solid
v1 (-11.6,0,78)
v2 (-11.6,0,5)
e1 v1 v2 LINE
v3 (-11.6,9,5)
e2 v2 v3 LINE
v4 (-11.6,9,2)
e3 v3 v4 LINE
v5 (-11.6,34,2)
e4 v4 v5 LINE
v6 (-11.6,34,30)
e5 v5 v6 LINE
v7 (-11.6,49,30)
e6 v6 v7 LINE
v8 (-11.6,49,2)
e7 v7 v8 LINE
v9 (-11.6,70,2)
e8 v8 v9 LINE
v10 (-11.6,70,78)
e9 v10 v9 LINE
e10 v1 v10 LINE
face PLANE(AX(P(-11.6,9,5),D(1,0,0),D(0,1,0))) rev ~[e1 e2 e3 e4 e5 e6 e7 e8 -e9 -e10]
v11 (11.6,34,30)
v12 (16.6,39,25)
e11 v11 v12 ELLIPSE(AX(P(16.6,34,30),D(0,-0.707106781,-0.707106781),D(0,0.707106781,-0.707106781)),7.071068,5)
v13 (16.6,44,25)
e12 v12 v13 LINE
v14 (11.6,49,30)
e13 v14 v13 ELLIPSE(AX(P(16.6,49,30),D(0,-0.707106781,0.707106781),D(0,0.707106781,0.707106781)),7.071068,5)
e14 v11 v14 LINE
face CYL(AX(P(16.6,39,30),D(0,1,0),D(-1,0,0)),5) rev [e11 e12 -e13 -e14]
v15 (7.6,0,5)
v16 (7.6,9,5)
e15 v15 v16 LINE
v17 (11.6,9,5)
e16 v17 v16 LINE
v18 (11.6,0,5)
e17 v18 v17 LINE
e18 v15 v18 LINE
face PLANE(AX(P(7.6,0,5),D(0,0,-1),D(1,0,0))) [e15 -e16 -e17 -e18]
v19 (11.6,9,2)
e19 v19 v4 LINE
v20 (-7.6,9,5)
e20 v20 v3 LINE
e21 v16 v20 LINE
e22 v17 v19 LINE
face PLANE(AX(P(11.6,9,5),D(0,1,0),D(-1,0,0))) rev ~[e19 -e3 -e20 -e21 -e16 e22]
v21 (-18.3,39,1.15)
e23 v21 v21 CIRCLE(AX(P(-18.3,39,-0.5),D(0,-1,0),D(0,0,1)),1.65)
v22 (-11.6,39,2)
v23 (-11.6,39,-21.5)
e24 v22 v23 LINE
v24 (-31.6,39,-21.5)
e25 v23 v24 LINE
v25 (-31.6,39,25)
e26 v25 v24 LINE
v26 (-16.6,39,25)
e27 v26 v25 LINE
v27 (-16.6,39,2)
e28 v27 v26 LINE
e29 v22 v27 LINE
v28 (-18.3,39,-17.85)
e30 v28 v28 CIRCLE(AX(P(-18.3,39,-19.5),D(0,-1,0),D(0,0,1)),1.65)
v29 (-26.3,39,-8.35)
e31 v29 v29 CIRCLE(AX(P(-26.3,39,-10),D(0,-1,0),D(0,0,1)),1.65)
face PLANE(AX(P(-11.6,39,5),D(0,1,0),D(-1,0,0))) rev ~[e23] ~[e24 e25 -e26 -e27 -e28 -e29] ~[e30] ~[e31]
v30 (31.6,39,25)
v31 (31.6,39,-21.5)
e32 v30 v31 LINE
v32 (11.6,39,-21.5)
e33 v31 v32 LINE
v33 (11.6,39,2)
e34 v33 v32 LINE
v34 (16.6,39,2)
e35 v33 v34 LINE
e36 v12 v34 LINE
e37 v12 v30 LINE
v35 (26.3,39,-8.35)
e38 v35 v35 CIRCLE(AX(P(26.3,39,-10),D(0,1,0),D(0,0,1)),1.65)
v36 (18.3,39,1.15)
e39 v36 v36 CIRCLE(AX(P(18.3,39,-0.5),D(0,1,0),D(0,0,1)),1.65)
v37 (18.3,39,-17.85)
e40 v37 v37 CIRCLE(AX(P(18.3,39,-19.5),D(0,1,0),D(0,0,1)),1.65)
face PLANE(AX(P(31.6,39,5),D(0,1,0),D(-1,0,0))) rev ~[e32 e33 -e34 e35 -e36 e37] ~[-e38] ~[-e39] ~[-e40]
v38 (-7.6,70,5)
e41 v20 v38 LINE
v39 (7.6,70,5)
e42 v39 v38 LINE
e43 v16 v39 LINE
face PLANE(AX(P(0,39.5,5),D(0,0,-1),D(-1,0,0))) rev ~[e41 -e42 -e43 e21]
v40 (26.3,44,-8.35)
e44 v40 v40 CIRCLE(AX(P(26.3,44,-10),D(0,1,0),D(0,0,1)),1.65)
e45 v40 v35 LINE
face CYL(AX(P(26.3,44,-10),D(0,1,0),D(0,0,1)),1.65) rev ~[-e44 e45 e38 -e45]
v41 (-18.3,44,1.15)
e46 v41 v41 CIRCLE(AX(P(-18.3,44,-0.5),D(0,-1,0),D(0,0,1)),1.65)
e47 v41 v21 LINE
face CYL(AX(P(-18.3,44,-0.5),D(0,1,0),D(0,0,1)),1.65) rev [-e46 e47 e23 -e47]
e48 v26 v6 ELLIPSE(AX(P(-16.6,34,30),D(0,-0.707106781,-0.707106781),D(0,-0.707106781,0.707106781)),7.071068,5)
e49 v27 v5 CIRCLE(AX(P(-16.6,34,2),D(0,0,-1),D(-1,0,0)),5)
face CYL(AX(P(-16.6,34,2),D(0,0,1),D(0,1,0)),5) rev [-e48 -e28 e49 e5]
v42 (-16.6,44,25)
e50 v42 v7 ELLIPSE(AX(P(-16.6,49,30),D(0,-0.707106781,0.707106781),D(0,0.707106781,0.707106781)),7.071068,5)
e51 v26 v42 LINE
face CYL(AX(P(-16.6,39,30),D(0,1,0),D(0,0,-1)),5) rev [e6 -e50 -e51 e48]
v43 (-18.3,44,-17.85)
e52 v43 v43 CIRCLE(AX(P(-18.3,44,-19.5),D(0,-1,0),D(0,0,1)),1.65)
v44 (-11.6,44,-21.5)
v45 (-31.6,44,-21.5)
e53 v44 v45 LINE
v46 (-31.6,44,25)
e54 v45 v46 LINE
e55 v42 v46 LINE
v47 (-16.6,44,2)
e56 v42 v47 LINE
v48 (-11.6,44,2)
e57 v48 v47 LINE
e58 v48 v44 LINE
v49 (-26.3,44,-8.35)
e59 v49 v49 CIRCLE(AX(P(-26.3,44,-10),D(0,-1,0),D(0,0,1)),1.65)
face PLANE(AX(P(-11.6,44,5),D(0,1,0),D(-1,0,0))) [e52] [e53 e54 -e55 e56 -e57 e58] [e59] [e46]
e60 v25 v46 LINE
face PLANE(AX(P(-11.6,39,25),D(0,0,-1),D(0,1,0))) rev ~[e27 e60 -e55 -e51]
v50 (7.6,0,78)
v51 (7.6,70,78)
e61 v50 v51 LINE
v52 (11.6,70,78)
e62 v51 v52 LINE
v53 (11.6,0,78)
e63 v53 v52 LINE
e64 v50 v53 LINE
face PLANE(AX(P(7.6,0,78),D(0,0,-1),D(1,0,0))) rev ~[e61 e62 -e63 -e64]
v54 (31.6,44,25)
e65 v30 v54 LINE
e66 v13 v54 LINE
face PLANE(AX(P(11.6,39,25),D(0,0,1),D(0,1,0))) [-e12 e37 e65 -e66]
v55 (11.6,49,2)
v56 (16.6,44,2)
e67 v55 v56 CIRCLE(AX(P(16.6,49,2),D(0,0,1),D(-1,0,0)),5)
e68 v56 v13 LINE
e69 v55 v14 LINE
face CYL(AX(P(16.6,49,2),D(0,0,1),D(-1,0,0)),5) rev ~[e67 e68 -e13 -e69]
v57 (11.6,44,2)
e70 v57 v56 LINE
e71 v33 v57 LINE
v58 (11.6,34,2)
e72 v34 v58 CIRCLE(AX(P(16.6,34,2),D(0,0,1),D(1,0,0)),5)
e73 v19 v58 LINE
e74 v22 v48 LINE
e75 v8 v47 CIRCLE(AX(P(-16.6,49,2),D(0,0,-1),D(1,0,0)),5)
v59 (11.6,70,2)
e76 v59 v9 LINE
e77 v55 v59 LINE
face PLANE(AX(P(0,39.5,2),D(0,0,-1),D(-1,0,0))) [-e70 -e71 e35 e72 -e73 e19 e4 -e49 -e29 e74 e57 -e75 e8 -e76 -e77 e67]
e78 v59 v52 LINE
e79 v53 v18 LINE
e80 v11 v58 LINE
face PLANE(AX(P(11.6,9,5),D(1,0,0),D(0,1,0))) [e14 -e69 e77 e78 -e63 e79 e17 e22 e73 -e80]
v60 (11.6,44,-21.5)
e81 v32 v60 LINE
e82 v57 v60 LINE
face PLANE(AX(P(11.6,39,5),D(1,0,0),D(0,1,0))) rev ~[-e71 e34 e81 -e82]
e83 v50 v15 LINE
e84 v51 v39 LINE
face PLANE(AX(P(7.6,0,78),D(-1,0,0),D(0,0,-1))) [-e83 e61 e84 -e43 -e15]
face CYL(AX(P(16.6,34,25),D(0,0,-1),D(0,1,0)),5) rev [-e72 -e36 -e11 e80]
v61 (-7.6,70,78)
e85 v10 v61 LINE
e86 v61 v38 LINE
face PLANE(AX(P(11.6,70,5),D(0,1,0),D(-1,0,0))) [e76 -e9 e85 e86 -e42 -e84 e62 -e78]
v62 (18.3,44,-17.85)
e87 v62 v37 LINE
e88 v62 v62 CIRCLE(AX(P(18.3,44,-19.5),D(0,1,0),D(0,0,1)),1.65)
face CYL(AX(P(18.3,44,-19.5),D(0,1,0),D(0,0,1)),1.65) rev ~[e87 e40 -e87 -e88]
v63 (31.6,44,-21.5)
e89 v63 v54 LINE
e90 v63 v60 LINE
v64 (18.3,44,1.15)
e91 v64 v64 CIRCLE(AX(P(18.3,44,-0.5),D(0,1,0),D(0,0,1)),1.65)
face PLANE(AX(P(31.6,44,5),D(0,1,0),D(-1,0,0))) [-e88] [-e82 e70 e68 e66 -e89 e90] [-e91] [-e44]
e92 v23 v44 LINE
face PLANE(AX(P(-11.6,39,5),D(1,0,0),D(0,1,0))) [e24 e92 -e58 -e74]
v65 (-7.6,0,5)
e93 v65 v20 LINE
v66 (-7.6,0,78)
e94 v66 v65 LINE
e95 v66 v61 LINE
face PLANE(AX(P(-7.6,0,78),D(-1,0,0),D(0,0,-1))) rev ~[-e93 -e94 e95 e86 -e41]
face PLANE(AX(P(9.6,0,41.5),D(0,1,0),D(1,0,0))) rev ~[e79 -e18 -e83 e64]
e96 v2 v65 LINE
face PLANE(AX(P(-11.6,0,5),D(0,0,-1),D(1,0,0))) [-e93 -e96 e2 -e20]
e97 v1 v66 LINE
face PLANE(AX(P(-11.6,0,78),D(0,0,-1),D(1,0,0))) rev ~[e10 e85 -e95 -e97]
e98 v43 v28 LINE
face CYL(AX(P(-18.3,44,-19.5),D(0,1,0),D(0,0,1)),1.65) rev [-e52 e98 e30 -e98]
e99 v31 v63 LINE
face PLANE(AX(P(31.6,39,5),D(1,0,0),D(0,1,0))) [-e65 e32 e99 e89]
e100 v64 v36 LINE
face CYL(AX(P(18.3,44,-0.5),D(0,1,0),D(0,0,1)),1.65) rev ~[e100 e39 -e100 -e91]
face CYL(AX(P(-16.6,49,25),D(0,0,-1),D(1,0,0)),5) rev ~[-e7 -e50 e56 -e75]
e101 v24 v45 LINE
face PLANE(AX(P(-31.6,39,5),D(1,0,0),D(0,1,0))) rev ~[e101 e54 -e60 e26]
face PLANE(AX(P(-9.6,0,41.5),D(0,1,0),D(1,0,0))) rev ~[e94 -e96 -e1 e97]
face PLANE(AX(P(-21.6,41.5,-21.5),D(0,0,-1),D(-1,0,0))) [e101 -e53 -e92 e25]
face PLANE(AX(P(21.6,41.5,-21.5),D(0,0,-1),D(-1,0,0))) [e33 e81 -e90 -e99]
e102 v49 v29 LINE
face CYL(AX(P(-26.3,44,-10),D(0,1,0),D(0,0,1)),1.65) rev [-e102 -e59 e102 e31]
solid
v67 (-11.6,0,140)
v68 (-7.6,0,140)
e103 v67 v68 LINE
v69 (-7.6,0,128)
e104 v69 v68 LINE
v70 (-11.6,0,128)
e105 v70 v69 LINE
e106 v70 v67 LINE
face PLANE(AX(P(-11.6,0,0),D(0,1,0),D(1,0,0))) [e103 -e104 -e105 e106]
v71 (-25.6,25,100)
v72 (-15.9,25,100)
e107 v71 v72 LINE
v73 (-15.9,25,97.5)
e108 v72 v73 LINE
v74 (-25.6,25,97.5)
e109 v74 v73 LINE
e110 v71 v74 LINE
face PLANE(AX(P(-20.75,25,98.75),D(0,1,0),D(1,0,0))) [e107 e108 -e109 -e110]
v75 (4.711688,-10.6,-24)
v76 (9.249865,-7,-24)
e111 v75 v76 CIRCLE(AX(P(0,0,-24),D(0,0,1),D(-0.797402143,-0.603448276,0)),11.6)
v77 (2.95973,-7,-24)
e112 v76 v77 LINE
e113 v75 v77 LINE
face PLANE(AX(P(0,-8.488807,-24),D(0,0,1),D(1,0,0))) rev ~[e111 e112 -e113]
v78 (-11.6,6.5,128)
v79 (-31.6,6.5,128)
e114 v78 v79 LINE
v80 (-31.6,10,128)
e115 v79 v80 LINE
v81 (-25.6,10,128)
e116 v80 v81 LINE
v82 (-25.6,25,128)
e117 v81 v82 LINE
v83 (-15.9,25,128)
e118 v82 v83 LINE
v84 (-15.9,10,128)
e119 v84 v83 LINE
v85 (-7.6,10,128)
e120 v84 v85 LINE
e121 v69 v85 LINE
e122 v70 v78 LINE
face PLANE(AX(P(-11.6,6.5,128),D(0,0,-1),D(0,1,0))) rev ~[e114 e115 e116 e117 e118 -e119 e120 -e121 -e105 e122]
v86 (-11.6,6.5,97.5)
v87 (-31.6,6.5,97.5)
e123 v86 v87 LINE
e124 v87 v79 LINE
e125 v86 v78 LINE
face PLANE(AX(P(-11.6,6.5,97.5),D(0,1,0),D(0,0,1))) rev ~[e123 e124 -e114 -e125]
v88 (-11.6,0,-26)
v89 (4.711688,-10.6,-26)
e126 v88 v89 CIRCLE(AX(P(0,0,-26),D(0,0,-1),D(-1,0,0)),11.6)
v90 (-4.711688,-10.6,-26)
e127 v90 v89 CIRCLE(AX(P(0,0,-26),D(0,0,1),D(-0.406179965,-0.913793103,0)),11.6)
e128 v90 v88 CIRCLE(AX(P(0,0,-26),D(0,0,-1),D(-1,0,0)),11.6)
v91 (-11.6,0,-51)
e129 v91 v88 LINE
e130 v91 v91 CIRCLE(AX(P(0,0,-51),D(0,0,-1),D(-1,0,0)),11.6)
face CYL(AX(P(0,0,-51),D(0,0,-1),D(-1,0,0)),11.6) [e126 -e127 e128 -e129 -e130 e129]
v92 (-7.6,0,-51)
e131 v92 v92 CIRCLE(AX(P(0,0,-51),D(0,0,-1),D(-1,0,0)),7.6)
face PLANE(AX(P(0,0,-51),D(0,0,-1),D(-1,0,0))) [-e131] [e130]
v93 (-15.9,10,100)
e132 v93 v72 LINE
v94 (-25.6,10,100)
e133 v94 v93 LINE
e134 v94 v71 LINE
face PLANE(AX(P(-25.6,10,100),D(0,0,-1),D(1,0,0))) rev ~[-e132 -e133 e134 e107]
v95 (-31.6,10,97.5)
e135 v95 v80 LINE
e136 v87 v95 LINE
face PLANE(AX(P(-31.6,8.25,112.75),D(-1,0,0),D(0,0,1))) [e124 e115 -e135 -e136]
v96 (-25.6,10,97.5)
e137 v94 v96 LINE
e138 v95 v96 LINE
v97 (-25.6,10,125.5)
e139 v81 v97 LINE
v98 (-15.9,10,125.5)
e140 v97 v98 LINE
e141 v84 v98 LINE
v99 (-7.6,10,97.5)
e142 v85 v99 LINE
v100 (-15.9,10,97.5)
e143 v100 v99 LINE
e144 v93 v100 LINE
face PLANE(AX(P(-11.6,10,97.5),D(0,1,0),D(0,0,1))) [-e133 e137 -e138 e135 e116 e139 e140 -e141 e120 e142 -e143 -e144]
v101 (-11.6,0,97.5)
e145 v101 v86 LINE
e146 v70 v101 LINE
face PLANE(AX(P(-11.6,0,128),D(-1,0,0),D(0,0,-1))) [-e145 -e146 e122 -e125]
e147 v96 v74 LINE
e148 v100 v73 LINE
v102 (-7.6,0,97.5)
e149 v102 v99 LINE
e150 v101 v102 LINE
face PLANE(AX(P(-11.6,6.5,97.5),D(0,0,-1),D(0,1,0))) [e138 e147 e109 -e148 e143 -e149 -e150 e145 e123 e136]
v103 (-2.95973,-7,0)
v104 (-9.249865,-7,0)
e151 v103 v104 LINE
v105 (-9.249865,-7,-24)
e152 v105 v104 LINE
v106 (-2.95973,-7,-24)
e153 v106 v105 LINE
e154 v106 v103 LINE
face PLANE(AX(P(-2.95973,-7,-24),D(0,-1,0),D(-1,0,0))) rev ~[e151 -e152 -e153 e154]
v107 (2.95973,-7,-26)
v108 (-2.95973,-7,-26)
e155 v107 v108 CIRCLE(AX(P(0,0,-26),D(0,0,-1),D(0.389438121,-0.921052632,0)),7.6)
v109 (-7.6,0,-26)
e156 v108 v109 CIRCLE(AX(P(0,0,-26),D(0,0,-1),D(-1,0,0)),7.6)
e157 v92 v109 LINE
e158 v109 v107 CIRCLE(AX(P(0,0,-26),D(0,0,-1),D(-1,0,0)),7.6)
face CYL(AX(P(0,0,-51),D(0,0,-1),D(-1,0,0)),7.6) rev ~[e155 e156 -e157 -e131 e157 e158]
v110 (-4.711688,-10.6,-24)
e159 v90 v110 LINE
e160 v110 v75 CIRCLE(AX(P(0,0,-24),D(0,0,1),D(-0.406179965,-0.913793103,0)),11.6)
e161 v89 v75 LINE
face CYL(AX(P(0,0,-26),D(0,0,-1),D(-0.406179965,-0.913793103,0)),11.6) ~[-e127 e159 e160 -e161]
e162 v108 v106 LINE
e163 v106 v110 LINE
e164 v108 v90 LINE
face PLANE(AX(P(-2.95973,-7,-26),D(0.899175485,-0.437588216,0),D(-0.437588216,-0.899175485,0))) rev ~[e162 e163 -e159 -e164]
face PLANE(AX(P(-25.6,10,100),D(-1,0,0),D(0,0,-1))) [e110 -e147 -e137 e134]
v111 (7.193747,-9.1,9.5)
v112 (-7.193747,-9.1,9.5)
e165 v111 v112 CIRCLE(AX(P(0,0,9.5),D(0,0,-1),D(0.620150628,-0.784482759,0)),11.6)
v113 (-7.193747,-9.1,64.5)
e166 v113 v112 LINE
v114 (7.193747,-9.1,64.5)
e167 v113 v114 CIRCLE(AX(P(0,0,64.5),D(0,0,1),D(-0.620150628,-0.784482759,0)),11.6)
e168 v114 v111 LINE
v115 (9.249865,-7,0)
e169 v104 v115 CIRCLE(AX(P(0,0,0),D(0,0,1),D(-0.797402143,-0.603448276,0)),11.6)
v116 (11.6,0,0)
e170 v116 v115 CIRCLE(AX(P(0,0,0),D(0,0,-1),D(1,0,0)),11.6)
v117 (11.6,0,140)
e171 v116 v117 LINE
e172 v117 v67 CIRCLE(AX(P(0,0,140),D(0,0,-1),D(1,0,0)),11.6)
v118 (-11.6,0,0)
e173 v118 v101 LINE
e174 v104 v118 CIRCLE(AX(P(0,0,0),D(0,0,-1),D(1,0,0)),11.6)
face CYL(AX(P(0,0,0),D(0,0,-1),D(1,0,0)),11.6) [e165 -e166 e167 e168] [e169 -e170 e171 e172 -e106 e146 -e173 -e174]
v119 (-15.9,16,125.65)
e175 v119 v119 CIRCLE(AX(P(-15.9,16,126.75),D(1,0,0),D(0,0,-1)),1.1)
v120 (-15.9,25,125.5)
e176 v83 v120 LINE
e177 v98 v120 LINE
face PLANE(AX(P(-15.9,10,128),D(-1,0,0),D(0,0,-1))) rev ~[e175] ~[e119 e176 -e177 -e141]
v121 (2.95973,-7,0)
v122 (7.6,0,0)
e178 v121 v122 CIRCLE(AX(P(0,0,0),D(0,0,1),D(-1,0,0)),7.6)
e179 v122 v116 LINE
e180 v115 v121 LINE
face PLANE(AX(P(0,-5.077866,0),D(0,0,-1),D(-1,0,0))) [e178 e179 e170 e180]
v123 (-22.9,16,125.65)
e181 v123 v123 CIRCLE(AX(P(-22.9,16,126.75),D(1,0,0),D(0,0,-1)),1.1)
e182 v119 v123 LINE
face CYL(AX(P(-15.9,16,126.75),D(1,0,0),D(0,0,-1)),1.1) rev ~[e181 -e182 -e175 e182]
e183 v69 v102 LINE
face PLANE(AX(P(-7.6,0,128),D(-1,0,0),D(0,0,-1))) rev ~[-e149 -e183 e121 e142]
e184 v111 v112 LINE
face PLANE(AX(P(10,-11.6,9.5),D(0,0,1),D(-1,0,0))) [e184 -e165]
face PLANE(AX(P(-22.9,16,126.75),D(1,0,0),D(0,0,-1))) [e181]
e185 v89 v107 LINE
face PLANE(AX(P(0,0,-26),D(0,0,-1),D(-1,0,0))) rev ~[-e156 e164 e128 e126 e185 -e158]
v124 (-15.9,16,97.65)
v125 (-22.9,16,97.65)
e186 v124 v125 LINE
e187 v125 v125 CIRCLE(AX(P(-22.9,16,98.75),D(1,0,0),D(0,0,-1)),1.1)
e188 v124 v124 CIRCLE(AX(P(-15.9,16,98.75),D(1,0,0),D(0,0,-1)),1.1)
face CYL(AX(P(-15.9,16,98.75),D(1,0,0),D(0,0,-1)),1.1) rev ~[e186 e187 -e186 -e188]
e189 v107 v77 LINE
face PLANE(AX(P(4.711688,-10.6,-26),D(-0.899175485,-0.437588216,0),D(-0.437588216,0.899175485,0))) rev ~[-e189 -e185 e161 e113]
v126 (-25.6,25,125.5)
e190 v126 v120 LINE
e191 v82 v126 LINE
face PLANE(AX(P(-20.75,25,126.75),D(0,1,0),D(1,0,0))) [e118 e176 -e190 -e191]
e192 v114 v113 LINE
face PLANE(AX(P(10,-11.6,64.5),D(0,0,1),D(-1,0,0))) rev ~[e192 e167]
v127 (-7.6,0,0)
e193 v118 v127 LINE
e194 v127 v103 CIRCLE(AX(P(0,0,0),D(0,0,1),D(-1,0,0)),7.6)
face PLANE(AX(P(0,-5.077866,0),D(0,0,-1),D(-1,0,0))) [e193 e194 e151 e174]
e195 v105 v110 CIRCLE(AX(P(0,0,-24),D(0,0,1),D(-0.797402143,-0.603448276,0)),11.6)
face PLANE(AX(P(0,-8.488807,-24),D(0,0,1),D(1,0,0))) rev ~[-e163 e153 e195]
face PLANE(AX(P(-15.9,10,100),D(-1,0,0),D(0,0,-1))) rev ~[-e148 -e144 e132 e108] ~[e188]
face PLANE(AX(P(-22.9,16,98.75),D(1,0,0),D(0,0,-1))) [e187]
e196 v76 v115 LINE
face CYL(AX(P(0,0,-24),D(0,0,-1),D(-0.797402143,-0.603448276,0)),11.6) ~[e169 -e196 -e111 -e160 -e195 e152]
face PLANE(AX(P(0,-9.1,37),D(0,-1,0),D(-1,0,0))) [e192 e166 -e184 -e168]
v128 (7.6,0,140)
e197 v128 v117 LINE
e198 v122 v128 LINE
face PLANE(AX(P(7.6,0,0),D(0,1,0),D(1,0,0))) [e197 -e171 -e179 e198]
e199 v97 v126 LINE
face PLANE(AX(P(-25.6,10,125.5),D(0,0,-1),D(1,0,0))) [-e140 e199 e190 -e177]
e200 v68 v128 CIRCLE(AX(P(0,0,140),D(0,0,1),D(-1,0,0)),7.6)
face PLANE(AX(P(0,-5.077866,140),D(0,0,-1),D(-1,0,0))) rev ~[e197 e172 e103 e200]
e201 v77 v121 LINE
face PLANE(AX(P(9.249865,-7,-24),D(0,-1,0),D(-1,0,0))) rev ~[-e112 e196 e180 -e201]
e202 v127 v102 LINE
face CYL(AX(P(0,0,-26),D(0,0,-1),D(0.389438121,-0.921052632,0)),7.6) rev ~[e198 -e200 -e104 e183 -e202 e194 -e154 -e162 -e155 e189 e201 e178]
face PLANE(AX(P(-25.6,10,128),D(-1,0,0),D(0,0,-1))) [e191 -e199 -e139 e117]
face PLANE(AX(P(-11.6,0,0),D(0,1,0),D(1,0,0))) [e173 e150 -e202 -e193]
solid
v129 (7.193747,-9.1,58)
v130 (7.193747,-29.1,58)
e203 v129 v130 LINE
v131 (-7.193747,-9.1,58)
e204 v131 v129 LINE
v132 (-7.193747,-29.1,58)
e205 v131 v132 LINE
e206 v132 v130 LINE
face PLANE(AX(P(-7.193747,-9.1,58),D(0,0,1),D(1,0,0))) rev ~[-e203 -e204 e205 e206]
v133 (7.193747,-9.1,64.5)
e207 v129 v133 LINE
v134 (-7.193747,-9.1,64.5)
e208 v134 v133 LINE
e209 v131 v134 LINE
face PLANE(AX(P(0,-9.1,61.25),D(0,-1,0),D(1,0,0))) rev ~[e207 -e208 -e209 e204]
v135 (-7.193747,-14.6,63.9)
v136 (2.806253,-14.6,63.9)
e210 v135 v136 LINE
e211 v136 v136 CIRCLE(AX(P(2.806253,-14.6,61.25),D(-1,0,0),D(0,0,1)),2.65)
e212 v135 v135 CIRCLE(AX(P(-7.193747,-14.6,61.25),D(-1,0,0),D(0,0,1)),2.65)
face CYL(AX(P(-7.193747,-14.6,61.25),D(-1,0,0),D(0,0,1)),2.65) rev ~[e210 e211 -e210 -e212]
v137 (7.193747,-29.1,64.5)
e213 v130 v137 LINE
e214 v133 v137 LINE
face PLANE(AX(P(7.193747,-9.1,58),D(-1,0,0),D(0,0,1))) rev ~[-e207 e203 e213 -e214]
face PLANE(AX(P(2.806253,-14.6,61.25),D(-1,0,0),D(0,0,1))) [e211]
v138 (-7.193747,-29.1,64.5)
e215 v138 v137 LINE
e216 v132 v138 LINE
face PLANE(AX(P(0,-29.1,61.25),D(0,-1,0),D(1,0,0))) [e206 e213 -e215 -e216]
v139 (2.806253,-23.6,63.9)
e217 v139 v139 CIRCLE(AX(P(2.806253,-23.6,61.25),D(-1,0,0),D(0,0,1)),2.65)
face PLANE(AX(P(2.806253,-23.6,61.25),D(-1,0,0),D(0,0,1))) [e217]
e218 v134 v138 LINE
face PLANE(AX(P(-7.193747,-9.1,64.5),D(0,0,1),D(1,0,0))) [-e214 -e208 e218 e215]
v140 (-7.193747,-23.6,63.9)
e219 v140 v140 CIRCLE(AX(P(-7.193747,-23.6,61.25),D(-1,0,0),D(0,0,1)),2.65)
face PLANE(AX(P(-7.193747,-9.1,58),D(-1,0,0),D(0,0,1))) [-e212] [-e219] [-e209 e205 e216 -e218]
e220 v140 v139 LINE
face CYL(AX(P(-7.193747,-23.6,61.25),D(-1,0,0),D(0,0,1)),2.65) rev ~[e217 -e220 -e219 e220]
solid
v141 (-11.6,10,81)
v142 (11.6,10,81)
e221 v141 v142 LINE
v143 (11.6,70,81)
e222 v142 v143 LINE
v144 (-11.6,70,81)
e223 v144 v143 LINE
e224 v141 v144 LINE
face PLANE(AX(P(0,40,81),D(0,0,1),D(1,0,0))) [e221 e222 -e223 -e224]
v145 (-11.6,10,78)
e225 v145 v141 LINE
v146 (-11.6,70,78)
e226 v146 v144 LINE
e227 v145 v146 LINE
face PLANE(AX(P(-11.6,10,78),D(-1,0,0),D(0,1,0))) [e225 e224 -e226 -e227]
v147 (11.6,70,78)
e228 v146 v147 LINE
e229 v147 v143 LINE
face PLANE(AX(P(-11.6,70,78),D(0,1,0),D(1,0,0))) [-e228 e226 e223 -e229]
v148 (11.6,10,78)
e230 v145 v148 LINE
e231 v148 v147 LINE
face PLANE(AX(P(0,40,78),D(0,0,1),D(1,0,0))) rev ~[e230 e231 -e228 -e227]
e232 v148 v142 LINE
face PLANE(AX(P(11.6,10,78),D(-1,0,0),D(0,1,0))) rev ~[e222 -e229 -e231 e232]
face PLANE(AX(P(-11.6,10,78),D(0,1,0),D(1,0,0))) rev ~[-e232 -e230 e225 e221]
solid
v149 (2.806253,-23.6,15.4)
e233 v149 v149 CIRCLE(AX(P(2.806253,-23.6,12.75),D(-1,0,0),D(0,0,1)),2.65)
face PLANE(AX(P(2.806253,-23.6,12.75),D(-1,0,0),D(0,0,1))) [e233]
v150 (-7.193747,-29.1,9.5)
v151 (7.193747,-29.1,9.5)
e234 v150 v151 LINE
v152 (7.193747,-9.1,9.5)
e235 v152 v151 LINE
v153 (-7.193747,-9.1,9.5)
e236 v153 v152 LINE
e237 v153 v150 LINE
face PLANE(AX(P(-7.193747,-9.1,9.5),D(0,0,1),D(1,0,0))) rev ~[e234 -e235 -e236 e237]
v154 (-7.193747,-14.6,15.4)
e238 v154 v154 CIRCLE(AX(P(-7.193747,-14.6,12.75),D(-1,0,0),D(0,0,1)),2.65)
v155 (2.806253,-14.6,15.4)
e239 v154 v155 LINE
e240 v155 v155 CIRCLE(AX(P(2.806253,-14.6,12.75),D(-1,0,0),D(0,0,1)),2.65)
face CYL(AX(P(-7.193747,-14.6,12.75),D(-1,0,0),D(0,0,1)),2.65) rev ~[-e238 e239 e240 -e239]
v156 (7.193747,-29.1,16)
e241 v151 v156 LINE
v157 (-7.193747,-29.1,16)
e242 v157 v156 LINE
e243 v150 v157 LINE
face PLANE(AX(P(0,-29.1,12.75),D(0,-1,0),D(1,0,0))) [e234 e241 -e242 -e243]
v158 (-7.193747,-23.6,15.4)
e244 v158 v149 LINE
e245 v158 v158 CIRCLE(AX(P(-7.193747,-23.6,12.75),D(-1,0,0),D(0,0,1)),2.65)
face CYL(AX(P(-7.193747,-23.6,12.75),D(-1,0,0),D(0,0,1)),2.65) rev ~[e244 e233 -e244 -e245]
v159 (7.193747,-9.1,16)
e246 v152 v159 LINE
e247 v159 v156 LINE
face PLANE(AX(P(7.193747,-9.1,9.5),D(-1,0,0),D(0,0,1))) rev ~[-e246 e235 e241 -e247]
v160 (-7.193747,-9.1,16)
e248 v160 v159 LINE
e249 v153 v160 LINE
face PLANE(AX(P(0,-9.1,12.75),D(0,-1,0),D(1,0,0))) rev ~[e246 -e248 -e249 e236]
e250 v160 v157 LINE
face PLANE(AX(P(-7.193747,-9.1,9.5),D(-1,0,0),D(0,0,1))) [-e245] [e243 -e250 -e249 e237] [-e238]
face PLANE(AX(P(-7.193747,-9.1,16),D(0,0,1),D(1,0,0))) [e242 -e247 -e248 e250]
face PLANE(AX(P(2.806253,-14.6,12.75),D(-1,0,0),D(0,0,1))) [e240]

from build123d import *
from build123d.topology import SkipClean

# Parameters (mm, degrees)
BOSS_EXTRUDE1_DEPTH    = 140
SKETCH2_W              = 4
SKETCH2_H              = 73
BOSS_EXTRUDE2_DEPTH    = 70
BOSS_EXTRUDE2_2_DEPTH  = 70
SKETCH5_W              = 23.2
SKETCH5_H              = 61
BOSS_EXTRUDE3_DEPTH    = 3
SKETCH6_W              = 23.2
SKETCH6_H              = 60
BOSS_EXTRUDE4_DEPTH    = 3
SKETCH7_W              = 4
SKETCH7_H              = 30.5
BOSS_EXTRUDE5_DEPTH    = 10
SKETCH8_W              = 30.5
SKETCH8_H              = 3.5
BOSS_EXTRUDE6_DEPTH    = 20
SKETCH10_W             = 9.7
SKETCH10_H             = 2.5
BOSS_EXTRUDE7_DEPTH    = 15
SKETCH11_R             = 1.1
CUT_EXTRUDE1_DEPTH     = 7
BOSS_EXTRUDE8_START    = 24
BOSS_EXTRUDE8_DEPTH    = 24
SKETCH28_W             = 20
SKETCH28_H             = 5
BOSS_EXTRUDE17_DEPTH   = 20
SKETCH29_W             = 20
SKETCH29_H             = 5
BOSS_EXTRUDE18_DEPTH   = 26.5
FILLET1_R              = 5
SKETCH33_W             = 20
SKETCH33_H             = 5
BOSS_EXTRUDE19_DEPTH   = 20
SKETCH34_W             = 20
SKETCH34_H             = 5
BOSS_EXTRUDE20_DEPTH   = 26.5
FILLET3_R              = 5
SKETCH32_W             = 20
SKETCH32_H             = 55
CUT_EXTRUDE4_DEPTH     = 2.5
SKETCH35_W             = 14.38749457
SKETCH35_H             = 6.5
BOSS_EXTRUDE21_DEPTH   = 20
BOSS_EXTRUDE21_2_DEPTH = 20
SKETCH38_R             = 2.65
CUT_EXTRUDE6_DEPTH     = 10
SKETCH39_R             = 2.65
CUT_EXTRUDE7_DEPTH     = 10
SKETCH43_R             = 1.65
CUT_EXTRUDE8_DEPTH     = 5
BOSS_EXTRUDE22_START   = 2
BOSS_EXTRUDE22_DEPTH   = 2
BOSS_EXTRUDE23_START   = 25
SKETCH44_R             = 11.6
SKETCH44_R_2           = 7.6
BOSS_EXTRUDE23_DEPTH   = 25


with BuildPart() as part:
    # Sketch1 → Boss-Extrude1 (new body)
    with BuildSketch(Plane.XY):
        with BuildLine():
            Line((-11.6, 0), (-7.6, 0))
            ThreePointArc((-7.6, 0), (0, -7.6), (7.6, 0))
            Line((7.6, 0), (11.6, 0))
            ThreePointArc((11.6, 0), (0, -11.6), (-11.6, 0))
        make_face()
    extrude(amount=BOSS_EXTRUDE1_DEPTH)

    # Sketch7 → Boss-Extrude5 (add)
    with BuildSketch(Plane(origin=(0, 0, 0), x_dir=(1, 0, 0), z_dir=(0, 1, 0))):
        with Locations((-9.6, -112.75)):
            Rectangle(SKETCH7_W, SKETCH7_H)
    extrude(amount=BOSS_EXTRUDE5_DEPTH)

    # Sketch8 → Boss-Extrude6 (add)
    with BuildSketch(Plane.ZY.offset(11.6)):
        with Locations((112.75, 8.25)):
            Rectangle(SKETCH8_W, SKETCH8_H)
    extrude(amount=BOSS_EXTRUDE6_DEPTH)

    # Sketch10 → Boss-Extrude7 (add)
    with BuildSketch(Plane(origin=(0, 10, 0), x_dir=(1, 0, 0), z_dir=(0, 1, 0))):
        with Locations((-20.75, -126.75)):
            Rectangle(SKETCH10_W, SKETCH10_H)
        with Locations((-20.75, -98.75)):
            Rectangle(SKETCH10_W, SKETCH10_H)
    extrude(amount=BOSS_EXTRUDE7_DEPTH)

    # Sketch11 → Cut-Extrude1 (cut)
    with BuildSketch(Plane(origin=(-15.9, 0, 0), x_dir=(0, 0, -1), z_dir=(1, 0, 0))):
        with Locations((-98.75, 16)):
            Circle(SKETCH11_R)
        with Locations((-126.75, 16)):
            Circle(SKETCH11_R)
    extrude(amount=-CUT_EXTRUDE1_DEPTH, mode=Mode.SUBTRACT)

    # Sketch12 → Boss-Extrude8 (add)
    with BuildSketch(Plane(origin=(0, 0, 0), x_dir=(-1, 0, 0), z_dir=(0, 0, -1)).offset(BOSS_EXTRUDE8_START)):
        with BuildLine():
            Line((-9.249864864, -7), (-2.959729717, -7))
            ThreePointArc((-2.959729717, -7), (0, -7.6), (2.959729717, -7))
            Line((2.959729717, -7), (9.249864864, -7))
            ThreePointArc((9.249864864, -7), (0, -11.6), (-9.249864864, -7))
        make_face()
    extrude(amount=-BOSS_EXTRUDE8_DEPTH)

    # Sketch32 → Cut-Extrude4 (cut)
    with BuildSketch(Plane(origin=(0, -11.6, 0), x_dir=(-1, 0, 0), z_dir=(0, -1, 0))):
        with Locations((0, -37)):
            Rectangle(SKETCH32_W, SKETCH32_H)
    extrude(amount=-CUT_EXTRUDE4_DEPTH, mode=Mode.SUBTRACT)

    # Sketch41 → Boss-Extrude22 (add)
    with BuildSketch(Plane(origin=(0, 0, -24), x_dir=(-1, 0, 0), z_dir=(0, 0, -1)).offset(BOSS_EXTRUDE22_START)):
        with BuildLine():
            Line((-4.711687596, -10.6), (-2.959729717, -7))
            ThreePointArc((-2.959729717, -7), (0, -7.6), (2.959729717, -7))
            Line((2.959729717, -7), (4.711687596, -10.6))
            ThreePointArc((4.711687596, -10.6), (0, -11.6), (-4.711687596, -10.6))
        make_face()
    extrude(amount=-BOSS_EXTRUDE22_DEPTH)

    # Sketch44 → Boss-Extrude23 (add)
    with SkipClean():  # the faces are left unmerged after this step: merging them gives an invalid solid
        with BuildSketch(Plane(origin=(0, 0, -26), x_dir=(-1, 0, 0), z_dir=(0, 0, -1)).offset(BOSS_EXTRUDE23_START)):
            Circle(SKETCH44_R)
            Circle(SKETCH44_R_2, mode=Mode.SUBTRACT)
        extrude(amount=-BOSS_EXTRUDE23_DEPTH)


with BuildPart() as body_2:
    # Sketch2 → Boss-Extrude2 (new body)
    with BuildSketch(Plane(origin=(0, 0, 0), x_dir=(1, 0, 0), z_dir=(0, 1, 0))):
        with Locations((-9.6, -41.5)):
            Rectangle(SKETCH2_W, SKETCH2_H)
    extrude(amount=BOSS_EXTRUDE2_DEPTH)



with BuildPart() as body_3:
    # Sketch2 → Boss-Extrude2 2 (new body)
    with BuildSketch(Plane(origin=(0, 0, 0), x_dir=(1, 0, 0), z_dir=(0, 1, 0))):
        with Locations((9.6, -41.5)):
            Rectangle(SKETCH2_W, SKETCH2_H)
    extrude(amount=BOSS_EXTRUDE2_2_DEPTH)



with BuildPart() as body_4:
    # Sketch5 → Boss-Extrude3 (new body)
    with BuildSketch(Plane(origin=(0, 0, 5), x_dir=(-1, 0, 0), z_dir=(0, 0, -1))):
        with Locations((0, 39.5)):
            Rectangle(SKETCH5_W, SKETCH5_H)
    extrude(amount=BOSS_EXTRUDE3_DEPTH)


with BuildPart() as body_5:
    # Sketch6 → Boss-Extrude4 (new body)
    with BuildSketch(Plane.XY.offset(78)):
        with Locations((0, 40)):
            Rectangle(SKETCH6_W, SKETCH6_H)
    extrude(amount=BOSS_EXTRUDE4_DEPTH)


with BuildPart() as body_3_1:
    add(body_3.part)

    add(body_4.part)  # Boss-Extrude17 merges body 4
    # Sketch28 → Boss-Extrude17 (add)
    with BuildSketch(Plane(origin=(11.6, 0, 0), x_dir=(0, 0, -1), z_dir=(1, 0, 0))):
        with Locations((-15, 41.5)):
            Rectangle(SKETCH28_W, SKETCH28_H)
    extrude(amount=BOSS_EXTRUDE17_DEPTH)

    # Sketch29 → Boss-Extrude18 (add)
    with BuildSketch(Plane(origin=(0, 0, 5), x_dir=(-1, 0, 0), z_dir=(0, 0, -1))):
        with Locations((-21.6, 41.5)):
            Rectangle(SKETCH29_W, SKETCH29_H)
    extrude(amount=BOSS_EXTRUDE18_DEPTH)

    # Fillet1
    fillet1_edges = [body_3_1.edges().sort_by_distance(p)[0] for p in [
        (11.6, 44, 13.5),
        (11.6, 41.5, 25),
        (11.6, 39, 13.5),
    ]]
    fillet(fillet1_edges, radius=FILLET1_R)


with BuildPart() as body_2_1:
    add(body_2.part)

    add(body_3_1.part)  # Boss-Extrude19 merges body 3
    # Sketch33 → Boss-Extrude19 (add)
    with BuildSketch(Plane.ZY.offset(11.6)):
        with Locations((15, 41.5)):
            Rectangle(SKETCH33_W, SKETCH33_H)
    extrude(amount=BOSS_EXTRUDE19_DEPTH)

    # Sketch34 → Boss-Extrude20 (add)
    with BuildSketch(Plane(origin=(0, 0, 5), x_dir=(-1, 0, 0), z_dir=(0, 0, -1))):
        with Locations((21.6, 41.5)):
            Rectangle(SKETCH34_W, SKETCH34_H)
    extrude(amount=BOSS_EXTRUDE20_DEPTH)

    # Fillet3
    fillet3_edges = [body_2_1.edges().sort_by_distance(p)[0] for p in [
        (-11.6, 39, 13.5),
        (-11.6, 41.5, 25),
        (-11.6, 44, 13.5),
    ]]
    fillet(fillet3_edges, radius=FILLET3_R)

    # Sketch43 → Cut-Extrude8 (cut)
    with BuildSketch(Plane(origin=(0, 44, 0), x_dir=(1, 0, 0), z_dir=(0, 1, 0))):
        with Locations(Location((18.3, 19.5, 0), (0, 0, 270))):
            Circle(SKETCH43_R)
        with Locations(Location((18.3, 0.5, 0), (0, 0, 270))):
            Circle(SKETCH43_R)
        with Locations(Location((26.3, 10, 0), (0, 0, 270))):
            Circle(SKETCH43_R)
    cut_extrude8 = extrude(amount=-CUT_EXTRUDE8_DEPTH, mode=Mode.SUBTRACT)

    # Mirror1: Cut-Extrude8 across plane
    add(cut_extrude8.mirror(Plane(origin=(0, 0, 0), x_dir=(0, 0, 1), z_dir=(1, 0, 0))), mode=Mode.SUBTRACT)


with BuildPart() as body_4_2:
    # Sketch35 → Boss-Extrude21 (new body)
    with BuildSketch(Plane.XZ.offset(9.1)):
        with Locations((0, 61.25)):
            Rectangle(SKETCH35_W, SKETCH35_H)
    extrude(amount=BOSS_EXTRUDE21_DEPTH)

    # Sketch39 → Cut-Extrude7 (cut)
    with BuildSketch(Plane.ZY.offset(7.193747285)):
        with Locations((61.25, -14.6)):
            Circle(SKETCH39_R)
        with Locations((61.25, -23.6)):
            Circle(SKETCH39_R)
    extrude(amount=-CUT_EXTRUDE7_DEPTH, mode=Mode.SUBTRACT)


with BuildPart() as body_5_2:
    # Sketch35 → Boss-Extrude21 2 (new body)
    with BuildSketch(Plane.XZ.offset(9.1)):
        with Locations((0, 12.75)):
            Rectangle(SKETCH35_W, SKETCH35_H)
    extrude(amount=BOSS_EXTRUDE21_2_DEPTH)

    # Sketch38 → Cut-Extrude6 (cut)
    with BuildSketch(Plane.ZY.offset(7.193747285)):
        with Locations((12.75, -14.6)):
            Circle(SKETCH38_R)
        with Locations((12.75, -23.6)):
            Circle(SKETCH38_R)
    extrude(amount=-CUT_EXTRUDE6_DEPTH, mode=Mode.SUBTRACT)


solid = Compound([part.part, body_5.part, body_2_1.part, body_4_2.part, body_5_2.part])
